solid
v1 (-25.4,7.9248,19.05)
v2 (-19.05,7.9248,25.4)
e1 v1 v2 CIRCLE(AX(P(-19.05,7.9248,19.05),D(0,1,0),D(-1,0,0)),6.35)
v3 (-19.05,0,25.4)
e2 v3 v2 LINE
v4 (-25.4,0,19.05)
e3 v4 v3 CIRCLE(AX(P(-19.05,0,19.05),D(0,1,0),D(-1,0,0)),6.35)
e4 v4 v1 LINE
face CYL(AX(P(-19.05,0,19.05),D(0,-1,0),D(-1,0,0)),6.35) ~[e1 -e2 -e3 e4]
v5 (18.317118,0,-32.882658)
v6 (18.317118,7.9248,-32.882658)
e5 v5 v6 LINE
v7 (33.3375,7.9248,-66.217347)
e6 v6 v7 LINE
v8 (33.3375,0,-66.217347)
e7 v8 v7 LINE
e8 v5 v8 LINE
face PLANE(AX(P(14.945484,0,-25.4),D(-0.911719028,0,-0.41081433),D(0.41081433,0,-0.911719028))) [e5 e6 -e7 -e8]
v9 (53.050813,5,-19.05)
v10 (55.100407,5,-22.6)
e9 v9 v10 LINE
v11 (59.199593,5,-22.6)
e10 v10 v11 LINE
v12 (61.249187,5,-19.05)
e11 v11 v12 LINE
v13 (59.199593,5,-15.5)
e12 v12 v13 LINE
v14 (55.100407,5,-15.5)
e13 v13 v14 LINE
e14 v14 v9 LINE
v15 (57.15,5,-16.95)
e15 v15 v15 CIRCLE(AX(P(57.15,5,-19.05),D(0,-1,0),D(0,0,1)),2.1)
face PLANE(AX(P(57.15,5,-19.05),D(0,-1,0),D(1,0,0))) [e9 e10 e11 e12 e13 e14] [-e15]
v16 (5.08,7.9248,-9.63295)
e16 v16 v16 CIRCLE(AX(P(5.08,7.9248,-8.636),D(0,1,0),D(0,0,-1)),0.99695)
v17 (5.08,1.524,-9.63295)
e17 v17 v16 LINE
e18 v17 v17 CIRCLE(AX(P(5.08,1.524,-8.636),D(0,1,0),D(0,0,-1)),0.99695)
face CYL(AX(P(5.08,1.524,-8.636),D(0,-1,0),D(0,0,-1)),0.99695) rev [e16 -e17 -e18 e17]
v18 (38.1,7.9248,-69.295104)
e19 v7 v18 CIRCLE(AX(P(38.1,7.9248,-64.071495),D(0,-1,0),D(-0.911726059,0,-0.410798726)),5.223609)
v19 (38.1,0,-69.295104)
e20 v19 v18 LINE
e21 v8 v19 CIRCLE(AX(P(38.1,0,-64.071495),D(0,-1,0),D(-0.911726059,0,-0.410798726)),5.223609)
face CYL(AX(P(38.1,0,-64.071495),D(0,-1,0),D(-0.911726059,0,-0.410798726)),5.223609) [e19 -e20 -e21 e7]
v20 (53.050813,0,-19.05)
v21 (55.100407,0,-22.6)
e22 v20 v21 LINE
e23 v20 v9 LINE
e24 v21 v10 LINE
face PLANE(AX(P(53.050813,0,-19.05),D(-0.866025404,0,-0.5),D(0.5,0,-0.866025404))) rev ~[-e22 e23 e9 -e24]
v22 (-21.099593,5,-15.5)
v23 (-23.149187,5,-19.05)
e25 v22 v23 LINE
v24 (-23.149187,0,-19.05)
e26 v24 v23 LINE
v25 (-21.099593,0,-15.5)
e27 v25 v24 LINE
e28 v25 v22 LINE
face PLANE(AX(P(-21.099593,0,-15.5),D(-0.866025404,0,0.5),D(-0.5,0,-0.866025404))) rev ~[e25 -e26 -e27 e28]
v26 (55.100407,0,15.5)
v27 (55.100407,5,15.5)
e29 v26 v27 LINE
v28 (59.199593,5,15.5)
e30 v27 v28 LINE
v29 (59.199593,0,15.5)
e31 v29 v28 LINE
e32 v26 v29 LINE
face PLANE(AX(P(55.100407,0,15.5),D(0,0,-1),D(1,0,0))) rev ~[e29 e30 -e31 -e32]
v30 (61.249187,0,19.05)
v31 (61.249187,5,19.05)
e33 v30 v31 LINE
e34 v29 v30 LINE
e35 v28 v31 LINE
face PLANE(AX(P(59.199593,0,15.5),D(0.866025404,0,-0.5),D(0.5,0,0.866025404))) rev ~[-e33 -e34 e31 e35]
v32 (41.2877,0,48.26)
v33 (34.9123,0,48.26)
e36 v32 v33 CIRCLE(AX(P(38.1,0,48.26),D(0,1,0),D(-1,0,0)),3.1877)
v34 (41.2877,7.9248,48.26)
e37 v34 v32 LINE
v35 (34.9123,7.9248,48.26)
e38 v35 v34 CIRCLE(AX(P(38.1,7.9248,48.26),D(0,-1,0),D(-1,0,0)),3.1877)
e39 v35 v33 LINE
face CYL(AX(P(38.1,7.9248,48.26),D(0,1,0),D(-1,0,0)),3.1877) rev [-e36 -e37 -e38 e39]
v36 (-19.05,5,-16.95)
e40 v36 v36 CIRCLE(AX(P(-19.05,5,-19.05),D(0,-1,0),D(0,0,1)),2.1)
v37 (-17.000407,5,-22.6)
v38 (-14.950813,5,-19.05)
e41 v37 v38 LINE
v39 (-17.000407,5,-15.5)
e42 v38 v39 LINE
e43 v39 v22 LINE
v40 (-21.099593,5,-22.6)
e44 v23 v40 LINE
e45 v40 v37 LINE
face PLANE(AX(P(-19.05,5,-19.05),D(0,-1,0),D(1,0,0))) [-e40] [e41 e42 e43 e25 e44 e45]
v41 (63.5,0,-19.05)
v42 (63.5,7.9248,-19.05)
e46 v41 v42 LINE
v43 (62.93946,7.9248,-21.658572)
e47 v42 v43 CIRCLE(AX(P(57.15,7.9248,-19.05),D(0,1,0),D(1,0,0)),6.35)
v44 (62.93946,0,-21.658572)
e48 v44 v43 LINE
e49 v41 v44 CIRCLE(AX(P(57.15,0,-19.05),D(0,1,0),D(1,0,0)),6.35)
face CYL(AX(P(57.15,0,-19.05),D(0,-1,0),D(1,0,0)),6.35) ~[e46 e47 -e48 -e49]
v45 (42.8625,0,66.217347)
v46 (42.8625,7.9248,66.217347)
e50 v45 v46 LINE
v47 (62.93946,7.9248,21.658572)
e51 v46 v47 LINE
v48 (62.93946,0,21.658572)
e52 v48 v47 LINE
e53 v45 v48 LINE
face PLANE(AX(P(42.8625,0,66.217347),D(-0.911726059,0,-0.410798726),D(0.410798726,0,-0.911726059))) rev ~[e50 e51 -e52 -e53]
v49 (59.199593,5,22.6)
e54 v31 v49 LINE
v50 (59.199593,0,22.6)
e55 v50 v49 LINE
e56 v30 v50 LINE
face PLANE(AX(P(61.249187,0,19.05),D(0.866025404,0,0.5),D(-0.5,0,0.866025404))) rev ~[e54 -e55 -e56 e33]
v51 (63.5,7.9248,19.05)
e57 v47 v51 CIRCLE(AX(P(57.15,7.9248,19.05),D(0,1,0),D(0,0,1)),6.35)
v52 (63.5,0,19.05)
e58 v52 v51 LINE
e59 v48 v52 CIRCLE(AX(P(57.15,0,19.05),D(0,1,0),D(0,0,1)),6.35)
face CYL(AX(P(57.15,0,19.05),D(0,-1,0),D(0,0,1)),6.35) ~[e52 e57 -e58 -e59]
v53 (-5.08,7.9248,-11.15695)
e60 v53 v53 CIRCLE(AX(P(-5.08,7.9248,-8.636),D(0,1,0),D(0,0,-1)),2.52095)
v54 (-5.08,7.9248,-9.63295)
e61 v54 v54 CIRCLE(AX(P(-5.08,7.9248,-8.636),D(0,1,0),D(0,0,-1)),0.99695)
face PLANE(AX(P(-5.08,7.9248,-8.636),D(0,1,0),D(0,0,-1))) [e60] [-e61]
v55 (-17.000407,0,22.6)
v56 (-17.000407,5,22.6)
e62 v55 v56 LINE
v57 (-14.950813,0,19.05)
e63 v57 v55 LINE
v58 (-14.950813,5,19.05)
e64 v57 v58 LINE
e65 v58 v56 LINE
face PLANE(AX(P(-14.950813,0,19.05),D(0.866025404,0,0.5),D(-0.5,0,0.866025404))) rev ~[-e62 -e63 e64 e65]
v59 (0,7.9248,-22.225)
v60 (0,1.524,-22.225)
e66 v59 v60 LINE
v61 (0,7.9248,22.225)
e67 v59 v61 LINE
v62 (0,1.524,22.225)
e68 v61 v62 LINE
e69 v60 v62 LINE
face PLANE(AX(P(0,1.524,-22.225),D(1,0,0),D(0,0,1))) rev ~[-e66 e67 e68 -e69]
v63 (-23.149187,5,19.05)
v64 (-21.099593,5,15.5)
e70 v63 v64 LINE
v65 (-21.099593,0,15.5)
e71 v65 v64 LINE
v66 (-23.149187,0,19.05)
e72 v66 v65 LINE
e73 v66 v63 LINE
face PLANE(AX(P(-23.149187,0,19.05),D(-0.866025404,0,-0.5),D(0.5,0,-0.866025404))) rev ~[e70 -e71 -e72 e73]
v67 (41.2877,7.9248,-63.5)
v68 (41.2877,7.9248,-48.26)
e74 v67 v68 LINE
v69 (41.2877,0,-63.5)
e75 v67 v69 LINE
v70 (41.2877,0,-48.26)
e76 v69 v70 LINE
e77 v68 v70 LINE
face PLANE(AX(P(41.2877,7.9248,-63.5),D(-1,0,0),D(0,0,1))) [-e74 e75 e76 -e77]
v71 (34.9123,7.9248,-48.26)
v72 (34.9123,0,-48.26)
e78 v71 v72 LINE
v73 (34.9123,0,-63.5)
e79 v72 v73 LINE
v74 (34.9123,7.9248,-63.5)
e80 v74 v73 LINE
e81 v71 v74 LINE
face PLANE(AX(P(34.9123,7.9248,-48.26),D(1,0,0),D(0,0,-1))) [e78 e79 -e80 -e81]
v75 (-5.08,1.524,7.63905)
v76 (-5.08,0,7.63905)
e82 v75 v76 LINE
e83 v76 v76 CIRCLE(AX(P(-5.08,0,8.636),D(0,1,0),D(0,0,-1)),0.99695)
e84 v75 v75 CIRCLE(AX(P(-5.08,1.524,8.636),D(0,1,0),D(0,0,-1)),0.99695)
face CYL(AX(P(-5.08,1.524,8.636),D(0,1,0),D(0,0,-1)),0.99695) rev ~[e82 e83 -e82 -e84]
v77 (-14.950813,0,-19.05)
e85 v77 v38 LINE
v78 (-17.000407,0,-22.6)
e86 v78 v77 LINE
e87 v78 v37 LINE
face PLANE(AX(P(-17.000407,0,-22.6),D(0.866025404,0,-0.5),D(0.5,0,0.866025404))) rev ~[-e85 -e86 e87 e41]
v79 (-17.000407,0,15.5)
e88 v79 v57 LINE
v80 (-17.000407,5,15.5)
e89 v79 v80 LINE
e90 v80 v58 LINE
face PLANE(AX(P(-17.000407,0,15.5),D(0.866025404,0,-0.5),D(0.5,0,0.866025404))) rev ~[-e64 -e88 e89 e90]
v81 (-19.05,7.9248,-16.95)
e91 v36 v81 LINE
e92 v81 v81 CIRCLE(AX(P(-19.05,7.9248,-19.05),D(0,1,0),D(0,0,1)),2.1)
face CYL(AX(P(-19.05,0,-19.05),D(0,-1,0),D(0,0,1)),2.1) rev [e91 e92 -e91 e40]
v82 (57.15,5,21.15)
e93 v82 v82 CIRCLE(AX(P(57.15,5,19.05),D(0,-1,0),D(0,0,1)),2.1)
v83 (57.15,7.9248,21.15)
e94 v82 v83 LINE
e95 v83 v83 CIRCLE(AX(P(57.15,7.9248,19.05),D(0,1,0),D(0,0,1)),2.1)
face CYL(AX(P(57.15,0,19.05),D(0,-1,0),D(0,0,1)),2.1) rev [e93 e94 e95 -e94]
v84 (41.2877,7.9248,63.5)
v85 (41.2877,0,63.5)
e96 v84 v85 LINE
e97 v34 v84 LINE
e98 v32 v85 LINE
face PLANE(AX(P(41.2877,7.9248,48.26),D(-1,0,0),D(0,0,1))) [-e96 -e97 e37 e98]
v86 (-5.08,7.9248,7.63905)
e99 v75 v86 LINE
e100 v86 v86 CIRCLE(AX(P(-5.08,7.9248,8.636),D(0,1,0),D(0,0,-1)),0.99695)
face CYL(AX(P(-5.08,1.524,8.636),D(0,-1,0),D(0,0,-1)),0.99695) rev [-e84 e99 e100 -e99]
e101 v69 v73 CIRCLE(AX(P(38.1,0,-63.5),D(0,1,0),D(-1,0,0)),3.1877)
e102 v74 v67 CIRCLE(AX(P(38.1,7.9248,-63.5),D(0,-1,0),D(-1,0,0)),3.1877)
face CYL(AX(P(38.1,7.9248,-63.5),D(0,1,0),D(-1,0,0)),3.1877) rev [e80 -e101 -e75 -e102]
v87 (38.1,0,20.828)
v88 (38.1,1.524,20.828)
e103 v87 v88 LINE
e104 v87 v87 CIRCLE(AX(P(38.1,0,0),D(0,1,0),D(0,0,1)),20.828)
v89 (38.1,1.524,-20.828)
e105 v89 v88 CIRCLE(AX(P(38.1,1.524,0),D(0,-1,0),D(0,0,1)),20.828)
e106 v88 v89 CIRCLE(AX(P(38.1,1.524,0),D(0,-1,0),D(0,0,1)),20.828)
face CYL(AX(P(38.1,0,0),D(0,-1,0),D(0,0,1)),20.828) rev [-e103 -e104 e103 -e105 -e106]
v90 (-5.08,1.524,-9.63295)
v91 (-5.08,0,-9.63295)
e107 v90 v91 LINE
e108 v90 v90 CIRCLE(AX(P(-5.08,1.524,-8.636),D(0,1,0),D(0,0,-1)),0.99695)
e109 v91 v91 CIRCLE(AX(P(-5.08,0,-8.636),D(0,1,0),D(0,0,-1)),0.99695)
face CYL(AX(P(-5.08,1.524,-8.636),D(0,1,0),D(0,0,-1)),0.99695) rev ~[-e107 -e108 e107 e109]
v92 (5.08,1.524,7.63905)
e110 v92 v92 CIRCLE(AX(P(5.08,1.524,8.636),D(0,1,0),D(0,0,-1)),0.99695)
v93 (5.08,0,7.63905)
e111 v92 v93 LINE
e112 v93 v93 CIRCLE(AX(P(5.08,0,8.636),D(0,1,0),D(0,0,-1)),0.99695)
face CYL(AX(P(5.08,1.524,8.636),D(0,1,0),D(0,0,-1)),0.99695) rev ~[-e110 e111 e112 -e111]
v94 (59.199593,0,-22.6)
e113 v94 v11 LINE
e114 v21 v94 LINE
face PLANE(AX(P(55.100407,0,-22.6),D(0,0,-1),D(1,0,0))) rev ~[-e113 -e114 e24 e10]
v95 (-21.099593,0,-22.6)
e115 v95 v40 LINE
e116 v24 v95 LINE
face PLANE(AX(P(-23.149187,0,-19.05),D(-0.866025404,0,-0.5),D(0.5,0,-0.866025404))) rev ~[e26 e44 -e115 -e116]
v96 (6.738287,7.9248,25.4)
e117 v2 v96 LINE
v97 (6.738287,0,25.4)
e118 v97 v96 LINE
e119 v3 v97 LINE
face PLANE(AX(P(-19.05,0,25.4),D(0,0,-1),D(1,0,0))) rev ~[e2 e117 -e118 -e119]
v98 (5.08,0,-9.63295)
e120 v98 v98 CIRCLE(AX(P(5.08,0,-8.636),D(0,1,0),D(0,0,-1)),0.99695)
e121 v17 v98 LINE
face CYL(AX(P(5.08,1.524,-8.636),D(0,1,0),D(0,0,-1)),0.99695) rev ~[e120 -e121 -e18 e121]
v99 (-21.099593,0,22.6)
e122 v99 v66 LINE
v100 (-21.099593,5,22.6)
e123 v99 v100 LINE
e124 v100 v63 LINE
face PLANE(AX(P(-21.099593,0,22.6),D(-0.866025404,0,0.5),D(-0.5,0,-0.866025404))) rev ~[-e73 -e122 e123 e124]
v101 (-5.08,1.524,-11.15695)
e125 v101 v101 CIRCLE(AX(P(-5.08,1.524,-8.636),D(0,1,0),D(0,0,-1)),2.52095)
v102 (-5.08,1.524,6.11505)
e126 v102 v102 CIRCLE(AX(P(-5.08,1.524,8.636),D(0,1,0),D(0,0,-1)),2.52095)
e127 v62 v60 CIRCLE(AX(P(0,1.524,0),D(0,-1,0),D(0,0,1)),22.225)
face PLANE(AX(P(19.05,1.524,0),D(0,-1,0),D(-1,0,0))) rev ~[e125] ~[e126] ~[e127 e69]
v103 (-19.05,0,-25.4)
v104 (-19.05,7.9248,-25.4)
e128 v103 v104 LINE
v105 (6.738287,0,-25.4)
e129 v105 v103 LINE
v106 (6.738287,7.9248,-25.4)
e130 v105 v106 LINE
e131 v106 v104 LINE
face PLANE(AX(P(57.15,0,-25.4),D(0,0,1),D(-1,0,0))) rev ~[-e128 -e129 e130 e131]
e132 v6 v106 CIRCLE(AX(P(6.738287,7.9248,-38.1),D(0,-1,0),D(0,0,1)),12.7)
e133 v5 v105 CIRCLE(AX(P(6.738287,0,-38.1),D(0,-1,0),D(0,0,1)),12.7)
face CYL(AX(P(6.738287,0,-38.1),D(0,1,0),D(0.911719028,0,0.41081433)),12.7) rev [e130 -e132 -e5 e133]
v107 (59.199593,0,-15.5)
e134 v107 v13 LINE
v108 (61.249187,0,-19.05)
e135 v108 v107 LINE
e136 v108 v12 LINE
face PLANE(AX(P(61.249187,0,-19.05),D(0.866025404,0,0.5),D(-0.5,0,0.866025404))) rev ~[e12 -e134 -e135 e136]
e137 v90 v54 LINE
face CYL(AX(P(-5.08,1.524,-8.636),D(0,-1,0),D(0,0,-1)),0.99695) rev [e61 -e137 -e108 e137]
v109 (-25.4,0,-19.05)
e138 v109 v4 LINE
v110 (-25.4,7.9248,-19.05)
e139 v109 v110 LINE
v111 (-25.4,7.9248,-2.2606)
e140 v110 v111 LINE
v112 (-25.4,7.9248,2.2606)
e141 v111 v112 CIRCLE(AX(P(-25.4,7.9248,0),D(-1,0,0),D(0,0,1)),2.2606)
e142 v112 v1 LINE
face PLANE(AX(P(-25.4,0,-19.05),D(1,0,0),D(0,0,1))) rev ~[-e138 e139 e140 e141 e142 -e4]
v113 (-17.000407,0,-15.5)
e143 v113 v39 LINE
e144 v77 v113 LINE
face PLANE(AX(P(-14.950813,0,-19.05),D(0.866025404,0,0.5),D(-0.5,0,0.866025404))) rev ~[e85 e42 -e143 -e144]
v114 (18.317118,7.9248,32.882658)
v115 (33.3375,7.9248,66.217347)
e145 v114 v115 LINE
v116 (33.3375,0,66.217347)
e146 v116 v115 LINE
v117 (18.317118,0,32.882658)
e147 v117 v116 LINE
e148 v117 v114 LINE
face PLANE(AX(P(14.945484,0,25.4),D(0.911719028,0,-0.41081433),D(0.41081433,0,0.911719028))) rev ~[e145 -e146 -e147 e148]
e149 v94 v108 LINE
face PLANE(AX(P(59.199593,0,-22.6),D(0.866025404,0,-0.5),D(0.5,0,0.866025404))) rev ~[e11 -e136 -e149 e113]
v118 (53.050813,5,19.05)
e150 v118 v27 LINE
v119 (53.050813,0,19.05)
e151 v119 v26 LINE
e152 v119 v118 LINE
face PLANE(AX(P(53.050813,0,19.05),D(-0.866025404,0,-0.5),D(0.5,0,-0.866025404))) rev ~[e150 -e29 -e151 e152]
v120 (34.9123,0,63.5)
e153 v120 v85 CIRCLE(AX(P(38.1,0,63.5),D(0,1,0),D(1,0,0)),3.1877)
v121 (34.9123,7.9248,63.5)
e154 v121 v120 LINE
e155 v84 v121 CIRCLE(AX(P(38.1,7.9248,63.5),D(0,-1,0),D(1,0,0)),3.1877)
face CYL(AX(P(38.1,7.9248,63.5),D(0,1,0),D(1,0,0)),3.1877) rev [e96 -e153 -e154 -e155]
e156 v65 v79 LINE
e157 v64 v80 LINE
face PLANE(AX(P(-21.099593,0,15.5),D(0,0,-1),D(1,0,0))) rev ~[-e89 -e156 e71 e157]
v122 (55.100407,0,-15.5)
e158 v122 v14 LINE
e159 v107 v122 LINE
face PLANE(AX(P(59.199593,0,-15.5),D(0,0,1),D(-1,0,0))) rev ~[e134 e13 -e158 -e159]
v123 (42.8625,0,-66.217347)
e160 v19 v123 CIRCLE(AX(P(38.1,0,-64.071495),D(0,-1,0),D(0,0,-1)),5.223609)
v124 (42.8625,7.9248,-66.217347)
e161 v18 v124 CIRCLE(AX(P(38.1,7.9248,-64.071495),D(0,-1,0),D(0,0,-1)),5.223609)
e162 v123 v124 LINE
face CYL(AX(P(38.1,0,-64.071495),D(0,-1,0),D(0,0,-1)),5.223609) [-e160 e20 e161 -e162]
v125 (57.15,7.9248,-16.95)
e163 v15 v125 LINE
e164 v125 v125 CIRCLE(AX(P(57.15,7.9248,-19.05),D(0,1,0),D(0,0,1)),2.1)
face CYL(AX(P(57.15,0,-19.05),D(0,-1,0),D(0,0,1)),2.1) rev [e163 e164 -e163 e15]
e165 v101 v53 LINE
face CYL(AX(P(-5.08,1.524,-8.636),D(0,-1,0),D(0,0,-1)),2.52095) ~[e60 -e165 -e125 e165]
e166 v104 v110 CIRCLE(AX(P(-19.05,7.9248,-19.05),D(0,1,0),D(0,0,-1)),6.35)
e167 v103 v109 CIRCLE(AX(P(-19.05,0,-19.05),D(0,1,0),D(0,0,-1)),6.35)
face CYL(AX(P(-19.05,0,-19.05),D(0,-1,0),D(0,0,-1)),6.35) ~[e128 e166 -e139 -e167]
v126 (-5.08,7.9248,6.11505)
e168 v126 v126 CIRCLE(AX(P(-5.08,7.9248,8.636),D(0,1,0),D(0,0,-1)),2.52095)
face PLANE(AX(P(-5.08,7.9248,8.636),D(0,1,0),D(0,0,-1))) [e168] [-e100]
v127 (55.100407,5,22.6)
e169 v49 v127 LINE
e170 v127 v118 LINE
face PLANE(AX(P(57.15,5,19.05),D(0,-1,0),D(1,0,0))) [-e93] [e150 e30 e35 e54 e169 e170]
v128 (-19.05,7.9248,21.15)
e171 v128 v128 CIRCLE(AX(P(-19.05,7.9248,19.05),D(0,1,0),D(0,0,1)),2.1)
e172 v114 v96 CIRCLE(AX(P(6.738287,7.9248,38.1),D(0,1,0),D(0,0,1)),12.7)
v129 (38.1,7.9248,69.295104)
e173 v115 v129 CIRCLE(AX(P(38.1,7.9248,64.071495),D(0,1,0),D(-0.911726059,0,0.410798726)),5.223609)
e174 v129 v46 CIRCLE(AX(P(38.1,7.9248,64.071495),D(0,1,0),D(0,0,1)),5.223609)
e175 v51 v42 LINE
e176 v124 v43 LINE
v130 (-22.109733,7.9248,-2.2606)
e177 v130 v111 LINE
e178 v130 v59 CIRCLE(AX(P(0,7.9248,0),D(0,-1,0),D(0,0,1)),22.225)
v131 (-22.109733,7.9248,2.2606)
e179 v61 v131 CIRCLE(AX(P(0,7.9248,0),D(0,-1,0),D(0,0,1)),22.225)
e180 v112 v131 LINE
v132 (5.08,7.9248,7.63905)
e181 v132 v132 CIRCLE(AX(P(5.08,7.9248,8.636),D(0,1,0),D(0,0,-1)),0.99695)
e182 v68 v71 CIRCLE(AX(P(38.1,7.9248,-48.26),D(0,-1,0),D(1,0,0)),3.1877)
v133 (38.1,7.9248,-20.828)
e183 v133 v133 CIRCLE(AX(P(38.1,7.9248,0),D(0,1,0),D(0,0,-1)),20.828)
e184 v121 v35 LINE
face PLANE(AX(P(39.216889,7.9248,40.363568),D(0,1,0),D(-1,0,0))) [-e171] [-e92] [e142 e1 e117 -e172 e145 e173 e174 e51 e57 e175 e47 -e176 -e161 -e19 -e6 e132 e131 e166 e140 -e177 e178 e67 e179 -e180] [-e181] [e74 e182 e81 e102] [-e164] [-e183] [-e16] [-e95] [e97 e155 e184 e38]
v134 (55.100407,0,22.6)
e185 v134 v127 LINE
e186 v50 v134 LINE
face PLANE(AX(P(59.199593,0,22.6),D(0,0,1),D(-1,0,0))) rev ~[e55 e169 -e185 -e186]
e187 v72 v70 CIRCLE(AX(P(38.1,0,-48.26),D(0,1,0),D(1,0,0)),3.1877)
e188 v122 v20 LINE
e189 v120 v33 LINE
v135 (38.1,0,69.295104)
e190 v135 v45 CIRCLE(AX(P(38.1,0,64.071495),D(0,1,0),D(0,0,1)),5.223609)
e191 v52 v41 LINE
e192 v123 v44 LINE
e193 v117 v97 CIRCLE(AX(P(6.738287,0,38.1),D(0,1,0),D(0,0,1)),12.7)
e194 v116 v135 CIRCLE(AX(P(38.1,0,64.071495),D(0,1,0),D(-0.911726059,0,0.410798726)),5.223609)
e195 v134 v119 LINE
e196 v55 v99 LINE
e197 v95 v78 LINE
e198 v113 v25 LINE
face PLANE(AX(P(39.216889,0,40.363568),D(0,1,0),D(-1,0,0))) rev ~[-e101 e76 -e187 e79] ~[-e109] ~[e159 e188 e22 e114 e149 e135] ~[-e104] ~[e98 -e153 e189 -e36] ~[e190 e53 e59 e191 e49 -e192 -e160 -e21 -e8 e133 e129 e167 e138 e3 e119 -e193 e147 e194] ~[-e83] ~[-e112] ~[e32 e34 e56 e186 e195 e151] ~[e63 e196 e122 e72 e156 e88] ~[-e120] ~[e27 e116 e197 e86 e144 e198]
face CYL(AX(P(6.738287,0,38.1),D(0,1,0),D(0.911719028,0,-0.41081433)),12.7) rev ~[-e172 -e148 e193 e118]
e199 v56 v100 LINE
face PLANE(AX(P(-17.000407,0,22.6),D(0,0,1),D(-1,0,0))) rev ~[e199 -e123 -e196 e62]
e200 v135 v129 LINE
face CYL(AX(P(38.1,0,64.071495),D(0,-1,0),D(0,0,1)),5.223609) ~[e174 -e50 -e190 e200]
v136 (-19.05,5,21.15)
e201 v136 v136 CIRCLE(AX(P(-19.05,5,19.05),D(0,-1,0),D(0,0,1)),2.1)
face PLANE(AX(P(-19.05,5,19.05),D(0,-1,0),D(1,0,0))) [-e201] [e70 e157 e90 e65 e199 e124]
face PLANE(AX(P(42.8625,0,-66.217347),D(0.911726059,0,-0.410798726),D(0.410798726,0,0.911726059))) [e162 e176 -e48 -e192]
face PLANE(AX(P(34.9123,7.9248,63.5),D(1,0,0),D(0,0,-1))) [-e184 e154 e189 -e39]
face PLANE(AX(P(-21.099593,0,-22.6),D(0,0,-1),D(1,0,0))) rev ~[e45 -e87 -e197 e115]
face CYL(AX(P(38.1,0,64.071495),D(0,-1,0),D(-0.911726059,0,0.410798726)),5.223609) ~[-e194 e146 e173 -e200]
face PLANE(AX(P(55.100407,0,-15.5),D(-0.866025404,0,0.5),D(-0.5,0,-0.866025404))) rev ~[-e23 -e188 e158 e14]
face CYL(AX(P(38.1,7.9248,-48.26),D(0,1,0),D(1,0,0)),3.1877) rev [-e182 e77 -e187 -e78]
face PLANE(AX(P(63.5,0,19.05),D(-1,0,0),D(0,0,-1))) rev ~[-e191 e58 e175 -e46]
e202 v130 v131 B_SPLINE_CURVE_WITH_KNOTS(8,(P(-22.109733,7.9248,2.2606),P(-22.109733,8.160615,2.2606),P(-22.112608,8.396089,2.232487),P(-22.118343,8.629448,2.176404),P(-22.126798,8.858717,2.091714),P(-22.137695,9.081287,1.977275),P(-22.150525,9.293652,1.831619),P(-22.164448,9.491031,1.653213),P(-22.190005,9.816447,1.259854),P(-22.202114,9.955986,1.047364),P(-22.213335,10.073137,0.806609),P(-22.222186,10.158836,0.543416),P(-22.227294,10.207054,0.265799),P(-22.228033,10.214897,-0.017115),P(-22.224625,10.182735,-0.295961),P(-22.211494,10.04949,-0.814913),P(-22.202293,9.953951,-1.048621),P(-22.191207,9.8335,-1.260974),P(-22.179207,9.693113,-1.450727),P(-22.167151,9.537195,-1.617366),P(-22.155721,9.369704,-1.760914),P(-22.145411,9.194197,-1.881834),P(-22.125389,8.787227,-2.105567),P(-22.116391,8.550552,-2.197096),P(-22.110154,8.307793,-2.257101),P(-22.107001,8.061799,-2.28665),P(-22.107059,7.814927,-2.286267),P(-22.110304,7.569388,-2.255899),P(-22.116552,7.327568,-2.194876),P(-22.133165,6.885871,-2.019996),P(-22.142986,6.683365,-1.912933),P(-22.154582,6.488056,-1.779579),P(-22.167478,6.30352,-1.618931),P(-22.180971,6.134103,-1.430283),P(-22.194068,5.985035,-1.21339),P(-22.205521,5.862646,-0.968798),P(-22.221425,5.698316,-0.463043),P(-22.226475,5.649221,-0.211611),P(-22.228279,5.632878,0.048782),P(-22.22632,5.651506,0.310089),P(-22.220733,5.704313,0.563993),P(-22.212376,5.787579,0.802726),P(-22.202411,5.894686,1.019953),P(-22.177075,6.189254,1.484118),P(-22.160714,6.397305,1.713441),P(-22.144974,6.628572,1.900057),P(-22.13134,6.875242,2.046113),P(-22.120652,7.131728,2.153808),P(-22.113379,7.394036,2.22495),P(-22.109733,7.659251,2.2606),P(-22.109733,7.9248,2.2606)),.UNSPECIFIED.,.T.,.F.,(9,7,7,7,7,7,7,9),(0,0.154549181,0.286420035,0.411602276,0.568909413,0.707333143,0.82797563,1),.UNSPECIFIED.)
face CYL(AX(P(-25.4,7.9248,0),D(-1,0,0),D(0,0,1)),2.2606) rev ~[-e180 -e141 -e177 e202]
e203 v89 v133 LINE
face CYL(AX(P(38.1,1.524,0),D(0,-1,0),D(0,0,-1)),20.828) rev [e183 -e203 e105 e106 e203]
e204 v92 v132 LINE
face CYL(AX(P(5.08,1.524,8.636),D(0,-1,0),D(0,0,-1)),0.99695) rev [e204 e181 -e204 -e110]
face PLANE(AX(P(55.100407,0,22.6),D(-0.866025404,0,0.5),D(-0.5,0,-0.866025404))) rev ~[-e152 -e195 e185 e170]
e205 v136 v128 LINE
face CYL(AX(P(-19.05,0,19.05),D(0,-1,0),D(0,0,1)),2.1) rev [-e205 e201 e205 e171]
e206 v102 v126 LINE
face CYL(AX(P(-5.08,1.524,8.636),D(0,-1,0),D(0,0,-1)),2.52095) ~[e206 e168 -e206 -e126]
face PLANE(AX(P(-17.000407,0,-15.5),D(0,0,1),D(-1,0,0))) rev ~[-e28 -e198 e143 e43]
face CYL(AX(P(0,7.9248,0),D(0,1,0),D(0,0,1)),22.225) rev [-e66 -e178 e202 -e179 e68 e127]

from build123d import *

# Parameters (mm, degrees)
SKETCH1_R               = 20.828
SKETCH1_R_2             = 2.1
BOSS_EXTRUDE1_DEPTH     = 7.9248
CUT_EXTRUDE1_DEPTH      = 6.4008
SKETCH3_R               = 2.52095
SKETCH3_R_2             = 0.99695
BOSS_EXTRUDE2_DEPTH     = 6.4008
SKETCH4_R               = 0.99695
CUT_EXTRUDE2_DEPTH      = 69.690466883
SKETCH5_R               = 20.828
SKETCH5_R_2             = 0.99695
BOSS_EXTRUDE3_DEPTH     = 6.4008
BOSS_EXTRUDE4_DEPTH     = 7.9248
CUT_EXTRUDE3_REACH      = 114.995
CUT_EXTRUDE3_END_RADIUS = 22.225
SKETCH7_R               = 2.2606
CUT_EXTRUDE4_DEPTH      = 5
FILLET1_R               = 12.7
CUT_EXTRUDE5_DEPTH      = 60.706


with BuildPart() as part:
    # Sketch1 → Boss-Extrude1 (new body)
    with BuildSketch(Plane(origin=(0, 0, 0), x_dir=(1, 0, 0), z_dir=(0, 1, 0))):
        with BuildLine():
            Line((-19.05, -25.4), (57.15, -25.4))
            ThreePointArc((57.15, -25.4), (61.640128061, -23.540128061), (63.5, -19.05))
            Line((63.5, -19.05), (63.5, 19.05))
            ThreePointArc((63.5, 19.05), (61.640128061, 23.540128061), (57.15, 25.4))
            Line((57.15, 25.4), (-19.05, 25.4))
            ThreePointArc((-19.05, 25.4), (-23.540128061, 23.540128061), (-25.4, 19.05))
            Line((-25.4, 19.05), (-25.4, -19.05))
            ThreePointArc((-25.4, -19.05), (-23.540128061, -23.540128061), (-19.05, -25.4))
        make_face()
        with Locations(Location((38.1, 0, 0), (0, 0, 270))):
            Circle(SKETCH1_R, mode=Mode.SUBTRACT)
        with Locations(Location((-19.05, 19.05, 0), (0, 0, 270))):
            Circle(SKETCH1_R_2, mode=Mode.SUBTRACT)
        with Locations(Location((-19.05, -19.05, 0), (0, 0, 270))):
            Circle(SKETCH1_R_2, mode=Mode.SUBTRACT)
        with Locations(Location((57.15, -19.05, 0), (0, 0, 270))):
            Circle(SKETCH1_R_2, mode=Mode.SUBTRACT)
        with Locations(Location((57.15, 19.05, 0), (0, 0, 270))):
            Circle(SKETCH1_R_2, mode=Mode.SUBTRACT)
    extrude(amount=BOSS_EXTRUDE1_DEPTH)

    # Sketch2 → Cut-Extrude1 (cut)
    with BuildSketch(Plane(origin=(0, 7.9248, 0), x_dir=(1, 0, 0), z_dir=(0, 1, 0))):
        with BuildLine():
            Line((0, 22.225), (38.1, 22.225))
            ThreePointArc((38.1, 22.225), (60.325, 0), (38.1, -22.225))
            Line((38.1, -22.225), (0, -22.225))
            ThreePointArc((0, -22.225), (-22.225, 0), (0, 22.225))
        make_face()
    extrude(amount=-CUT_EXTRUDE1_DEPTH, mode=Mode.SUBTRACT)

    # Sketch3 → Boss-Extrude2 (add)
    # profile 1 of 4: a face of its own
    with BuildSketch(Plane(origin=(0, 1.524, 0), x_dir=(1, 0, 0), z_dir=(0, 1, 0))):
        with Locations(Location((-5.08, 8.636, 0), (0, 0, 90))):
            Circle(SKETCH3_R)
        with Locations(Location((-5.08, 8.636, 0), (0, 0, 90))):
            Circle(SKETCH3_R_2, mode=Mode.SUBTRACT)
    # profile 2 of 4: a face of its own
    with BuildSketch(Plane(origin=(0, 1.524, 0), x_dir=(1, 0, 0), z_dir=(0, 1, 0))):
        with Locations(Location((5.08, 8.636, 0), (0, 0, 90))):
            Circle(SKETCH3_R)
        with Locations(Location((5.08, 8.636, 0), (0, 0, 90))):
            Circle(SKETCH3_R_2, mode=Mode.SUBTRACT)
    # profile 3 of 4: a face of its own
    with BuildSketch(Plane(origin=(0, 1.524, 0), x_dir=(1, 0, 0), z_dir=(0, 1, 0))):
        with Locations(Location((5.08, -8.636, 0), (0, 0, 90))):
            Circle(SKETCH3_R)
        with Locations(Location((5.08, -8.636, 0), (0, 0, 90))):
            Circle(SKETCH3_R_2, mode=Mode.SUBTRACT)
    # profile 4 of 4: a face of its own
    with BuildSketch(Plane(origin=(0, 1.524, 0), x_dir=(1, 0, 0), z_dir=(0, 1, 0))):
        with Locations(Location((-5.08, -8.636, 0), (0, 0, 90))):
            Circle(SKETCH3_R)
        with Locations(Location((-5.08, -8.636, 0), (0, 0, 90))):
            Circle(SKETCH3_R_2, mode=Mode.SUBTRACT)
    extrude(amount=BOSS_EXTRUDE2_DEPTH)

    # Sketch4 → Cut-Extrude2 (cut, through all)
    with BuildSketch(Plane(origin=(0, 1.524, 0), x_dir=(1, 0, 0), z_dir=(0, 1, 0))):
        with Locations(Location((5.08, -8.636, 0), (0, 0, 90))):
            Circle(SKETCH4_R)
        with Locations(Location((-5.08, -8.636, 0), (0, 0, 90))):
            Circle(SKETCH4_R)
        with Locations(Location((5.08, 8.636, 0), (0, 0, 90))):
            Circle(SKETCH4_R)
        with Locations(Location((-5.08, 8.636, 0), (0, 0, 90))):
            Circle(SKETCH4_R)
    extrude(amount=-CUT_EXTRUDE2_DEPTH, mode=Mode.SUBTRACT)

    # Sketch5 → Boss-Extrude3 (add)
    with BuildSketch(Plane(origin=(0, 1.524, 0), x_dir=(1, 0, 0), z_dir=(0, 1, 0))):
        with BuildLine():
            Line((0, 22.225), (0, -22.225))
            Line((0, -22.225), (38.1, -22.225))
            ThreePointArc((38.1, -22.225), (60.325, 0), (38.1, 22.225))
            Line((38.1, 22.225), (0, 22.225))
        make_face()
        with Locations(Location((38.1, 0, 0), (0, 0, 90))):
            Circle(SKETCH5_R, mode=Mode.SUBTRACT)
        with Locations(Location((5.08, -8.636, 0), (0, 0, 90))):
            Circle(SKETCH5_R_2, mode=Mode.SUBTRACT)
        with Locations(Location((5.08, 8.636, 0), (0, 0, 90))):
            Circle(SKETCH5_R_2, mode=Mode.SUBTRACT)
    extrude(amount=BOSS_EXTRUDE3_DEPTH)

    # Sketch6 → Boss-Extrude4 (add)
    with BuildSketch(Plane.XZ):
        with BuildLine():
            Line((42.8625, 66.217346987), (62.939460474, 21.658571912))
            ThreePointArc((62.939460474, 21.658571912), (60.596597479, 24.383241587), (57.15, 25.4))
            Line((57.15, 25.4), (14.945483896, 25.4))
            Line((14.945483896, 25.4), (33.3375, 66.217346987))
            ThreePointArc((33.3375, 66.217346987), (35.264775446, 68.45870253), (38.1, 69.295103774))
            ThreePointArc((38.1, 69.295103774), (40.935224554, 68.45870253), (42.8625, 66.217346987))
        make_face()
        with BuildLine():
            Line((57.15, -25.4), (14.945483896, -25.4))
            Line((14.945483896, -25.4), (33.3375, -66.217346987))
            ThreePointArc((33.3375, -66.217346987), (35.264775446, -68.45870253), (38.1, -69.295103774))
            ThreePointArc((38.1, -69.295103774), (40.935224554, -68.45870253), (42.8625, -66.217346987))
            Line((42.8625, -66.217346987), (62.939460474, -21.658571912))
            ThreePointArc((62.939460474, -21.658571912), (60.596597479, -24.383241587), (57.15, -25.4))
        make_face()
    extrude(amount=-BOSS_EXTRUDE4_DEPTH)

    # Cut-Extrude3: up to this cylinder (the profile starts outside it)
    cut_extrude3_end = Plane(origin=(0, 7.9248, 0), z_dir=(0, 1, 0)) * Cylinder(CUT_EXTRUDE3_END_RADIUS, 275.44, mode=Mode.PRIVATE)
    # Sketch7 → Cut-Extrude3 (cut, up to the surface)
    with BuildSketch(Plane.ZY.offset(25.4), mode=Mode.PRIVATE) as cut_extrude3_sk1:
        with Locations((0, 7.9248)):
            Circle(SKETCH7_R)
    cut_extrude3_tool1 = extrude(cut_extrude3_sk1.sketch, amount=-CUT_EXTRUDE3_REACH, mode=Mode.PRIVATE) - cut_extrude3_end
    add(cut_extrude3_tool1.solids().sort_by_distance((-25.4, 7.9248, 0))[0], mode=Mode.SUBTRACT)

    # Sketch8 → Cut-Extrude4 (cut)
    with BuildSketch(Plane.XZ):
        Polygon((-17.000406544, 22.6), (-21.099593456, 22.6), (-23.149186911, 19.05), (-21.099593456, 15.5), (-17.000406544, 15.5), (-14.950813089, 19.05), align=None)
        Polygon((-17.000406544, -15.5), (-21.099593456, -15.5), (-23.149186911, -19.05), (-21.099593456, -22.6), (-17.000406544, -22.6), (-14.950813089, -19.05), align=None)
        Polygon((59.199593456, -15.5), (55.100406544, -15.5), (53.050813089, -19.05), (55.100406544, -22.6), (59.199593456, -22.6), (61.249186911, -19.05), align=None)
        Polygon((59.199593456, 22.6), (55.100406544, 22.6), (53.050813089, 19.05), (55.100406544, 15.5), (59.199593456, 15.5), (61.249186911, 19.05), align=None)
    extrude(amount=-CUT_EXTRUDE4_DEPTH, mode=Mode.SUBTRACT)

    # Fillet1
    fillet1_edges = [part.edges().sort_by_distance(p)[0] for p in [
        (14.945483896, 3.9624, 25.4),
        (14.945483896, 3.9624, -25.4),
    ]]
    fillet(fillet1_edges, radius=FILLET1_R)

    # Sketch9 → Cut-Extrude5 (cut)
    with BuildSketch(Plane(origin=(0, 7.9248, 0), x_dir=(1, 0, 0), z_dir=(0, 1, 0))):
        with BuildLine():
            Line((34.9123, -63.5), (34.9123, -48.26))
            ThreePointArc((34.9123, -48.26), (38.1, -45.0723), (41.2877, -48.26))
            Line((41.2877, -48.26), (41.2877, -63.5))
            ThreePointArc((41.2877, -63.5), (38.1, -66.6877), (34.9123, -63.5))
        make_face()
        with BuildLine():
            Line((41.2877, 63.5), (41.2877, 48.26))
            ThreePointArc((41.2877, 48.26), (38.1, 45.0723), (34.9123, 48.26))
            Line((34.9123, 48.26), (34.9123, 63.5))
            ThreePointArc((34.9123, 63.5), (38.1, 66.6877), (41.2877, 63.5))
        make_face()
    extrude(amount=-CUT_EXTRUDE5_DEPTH, mode=Mode.SUBTRACT)


solid = part.part
